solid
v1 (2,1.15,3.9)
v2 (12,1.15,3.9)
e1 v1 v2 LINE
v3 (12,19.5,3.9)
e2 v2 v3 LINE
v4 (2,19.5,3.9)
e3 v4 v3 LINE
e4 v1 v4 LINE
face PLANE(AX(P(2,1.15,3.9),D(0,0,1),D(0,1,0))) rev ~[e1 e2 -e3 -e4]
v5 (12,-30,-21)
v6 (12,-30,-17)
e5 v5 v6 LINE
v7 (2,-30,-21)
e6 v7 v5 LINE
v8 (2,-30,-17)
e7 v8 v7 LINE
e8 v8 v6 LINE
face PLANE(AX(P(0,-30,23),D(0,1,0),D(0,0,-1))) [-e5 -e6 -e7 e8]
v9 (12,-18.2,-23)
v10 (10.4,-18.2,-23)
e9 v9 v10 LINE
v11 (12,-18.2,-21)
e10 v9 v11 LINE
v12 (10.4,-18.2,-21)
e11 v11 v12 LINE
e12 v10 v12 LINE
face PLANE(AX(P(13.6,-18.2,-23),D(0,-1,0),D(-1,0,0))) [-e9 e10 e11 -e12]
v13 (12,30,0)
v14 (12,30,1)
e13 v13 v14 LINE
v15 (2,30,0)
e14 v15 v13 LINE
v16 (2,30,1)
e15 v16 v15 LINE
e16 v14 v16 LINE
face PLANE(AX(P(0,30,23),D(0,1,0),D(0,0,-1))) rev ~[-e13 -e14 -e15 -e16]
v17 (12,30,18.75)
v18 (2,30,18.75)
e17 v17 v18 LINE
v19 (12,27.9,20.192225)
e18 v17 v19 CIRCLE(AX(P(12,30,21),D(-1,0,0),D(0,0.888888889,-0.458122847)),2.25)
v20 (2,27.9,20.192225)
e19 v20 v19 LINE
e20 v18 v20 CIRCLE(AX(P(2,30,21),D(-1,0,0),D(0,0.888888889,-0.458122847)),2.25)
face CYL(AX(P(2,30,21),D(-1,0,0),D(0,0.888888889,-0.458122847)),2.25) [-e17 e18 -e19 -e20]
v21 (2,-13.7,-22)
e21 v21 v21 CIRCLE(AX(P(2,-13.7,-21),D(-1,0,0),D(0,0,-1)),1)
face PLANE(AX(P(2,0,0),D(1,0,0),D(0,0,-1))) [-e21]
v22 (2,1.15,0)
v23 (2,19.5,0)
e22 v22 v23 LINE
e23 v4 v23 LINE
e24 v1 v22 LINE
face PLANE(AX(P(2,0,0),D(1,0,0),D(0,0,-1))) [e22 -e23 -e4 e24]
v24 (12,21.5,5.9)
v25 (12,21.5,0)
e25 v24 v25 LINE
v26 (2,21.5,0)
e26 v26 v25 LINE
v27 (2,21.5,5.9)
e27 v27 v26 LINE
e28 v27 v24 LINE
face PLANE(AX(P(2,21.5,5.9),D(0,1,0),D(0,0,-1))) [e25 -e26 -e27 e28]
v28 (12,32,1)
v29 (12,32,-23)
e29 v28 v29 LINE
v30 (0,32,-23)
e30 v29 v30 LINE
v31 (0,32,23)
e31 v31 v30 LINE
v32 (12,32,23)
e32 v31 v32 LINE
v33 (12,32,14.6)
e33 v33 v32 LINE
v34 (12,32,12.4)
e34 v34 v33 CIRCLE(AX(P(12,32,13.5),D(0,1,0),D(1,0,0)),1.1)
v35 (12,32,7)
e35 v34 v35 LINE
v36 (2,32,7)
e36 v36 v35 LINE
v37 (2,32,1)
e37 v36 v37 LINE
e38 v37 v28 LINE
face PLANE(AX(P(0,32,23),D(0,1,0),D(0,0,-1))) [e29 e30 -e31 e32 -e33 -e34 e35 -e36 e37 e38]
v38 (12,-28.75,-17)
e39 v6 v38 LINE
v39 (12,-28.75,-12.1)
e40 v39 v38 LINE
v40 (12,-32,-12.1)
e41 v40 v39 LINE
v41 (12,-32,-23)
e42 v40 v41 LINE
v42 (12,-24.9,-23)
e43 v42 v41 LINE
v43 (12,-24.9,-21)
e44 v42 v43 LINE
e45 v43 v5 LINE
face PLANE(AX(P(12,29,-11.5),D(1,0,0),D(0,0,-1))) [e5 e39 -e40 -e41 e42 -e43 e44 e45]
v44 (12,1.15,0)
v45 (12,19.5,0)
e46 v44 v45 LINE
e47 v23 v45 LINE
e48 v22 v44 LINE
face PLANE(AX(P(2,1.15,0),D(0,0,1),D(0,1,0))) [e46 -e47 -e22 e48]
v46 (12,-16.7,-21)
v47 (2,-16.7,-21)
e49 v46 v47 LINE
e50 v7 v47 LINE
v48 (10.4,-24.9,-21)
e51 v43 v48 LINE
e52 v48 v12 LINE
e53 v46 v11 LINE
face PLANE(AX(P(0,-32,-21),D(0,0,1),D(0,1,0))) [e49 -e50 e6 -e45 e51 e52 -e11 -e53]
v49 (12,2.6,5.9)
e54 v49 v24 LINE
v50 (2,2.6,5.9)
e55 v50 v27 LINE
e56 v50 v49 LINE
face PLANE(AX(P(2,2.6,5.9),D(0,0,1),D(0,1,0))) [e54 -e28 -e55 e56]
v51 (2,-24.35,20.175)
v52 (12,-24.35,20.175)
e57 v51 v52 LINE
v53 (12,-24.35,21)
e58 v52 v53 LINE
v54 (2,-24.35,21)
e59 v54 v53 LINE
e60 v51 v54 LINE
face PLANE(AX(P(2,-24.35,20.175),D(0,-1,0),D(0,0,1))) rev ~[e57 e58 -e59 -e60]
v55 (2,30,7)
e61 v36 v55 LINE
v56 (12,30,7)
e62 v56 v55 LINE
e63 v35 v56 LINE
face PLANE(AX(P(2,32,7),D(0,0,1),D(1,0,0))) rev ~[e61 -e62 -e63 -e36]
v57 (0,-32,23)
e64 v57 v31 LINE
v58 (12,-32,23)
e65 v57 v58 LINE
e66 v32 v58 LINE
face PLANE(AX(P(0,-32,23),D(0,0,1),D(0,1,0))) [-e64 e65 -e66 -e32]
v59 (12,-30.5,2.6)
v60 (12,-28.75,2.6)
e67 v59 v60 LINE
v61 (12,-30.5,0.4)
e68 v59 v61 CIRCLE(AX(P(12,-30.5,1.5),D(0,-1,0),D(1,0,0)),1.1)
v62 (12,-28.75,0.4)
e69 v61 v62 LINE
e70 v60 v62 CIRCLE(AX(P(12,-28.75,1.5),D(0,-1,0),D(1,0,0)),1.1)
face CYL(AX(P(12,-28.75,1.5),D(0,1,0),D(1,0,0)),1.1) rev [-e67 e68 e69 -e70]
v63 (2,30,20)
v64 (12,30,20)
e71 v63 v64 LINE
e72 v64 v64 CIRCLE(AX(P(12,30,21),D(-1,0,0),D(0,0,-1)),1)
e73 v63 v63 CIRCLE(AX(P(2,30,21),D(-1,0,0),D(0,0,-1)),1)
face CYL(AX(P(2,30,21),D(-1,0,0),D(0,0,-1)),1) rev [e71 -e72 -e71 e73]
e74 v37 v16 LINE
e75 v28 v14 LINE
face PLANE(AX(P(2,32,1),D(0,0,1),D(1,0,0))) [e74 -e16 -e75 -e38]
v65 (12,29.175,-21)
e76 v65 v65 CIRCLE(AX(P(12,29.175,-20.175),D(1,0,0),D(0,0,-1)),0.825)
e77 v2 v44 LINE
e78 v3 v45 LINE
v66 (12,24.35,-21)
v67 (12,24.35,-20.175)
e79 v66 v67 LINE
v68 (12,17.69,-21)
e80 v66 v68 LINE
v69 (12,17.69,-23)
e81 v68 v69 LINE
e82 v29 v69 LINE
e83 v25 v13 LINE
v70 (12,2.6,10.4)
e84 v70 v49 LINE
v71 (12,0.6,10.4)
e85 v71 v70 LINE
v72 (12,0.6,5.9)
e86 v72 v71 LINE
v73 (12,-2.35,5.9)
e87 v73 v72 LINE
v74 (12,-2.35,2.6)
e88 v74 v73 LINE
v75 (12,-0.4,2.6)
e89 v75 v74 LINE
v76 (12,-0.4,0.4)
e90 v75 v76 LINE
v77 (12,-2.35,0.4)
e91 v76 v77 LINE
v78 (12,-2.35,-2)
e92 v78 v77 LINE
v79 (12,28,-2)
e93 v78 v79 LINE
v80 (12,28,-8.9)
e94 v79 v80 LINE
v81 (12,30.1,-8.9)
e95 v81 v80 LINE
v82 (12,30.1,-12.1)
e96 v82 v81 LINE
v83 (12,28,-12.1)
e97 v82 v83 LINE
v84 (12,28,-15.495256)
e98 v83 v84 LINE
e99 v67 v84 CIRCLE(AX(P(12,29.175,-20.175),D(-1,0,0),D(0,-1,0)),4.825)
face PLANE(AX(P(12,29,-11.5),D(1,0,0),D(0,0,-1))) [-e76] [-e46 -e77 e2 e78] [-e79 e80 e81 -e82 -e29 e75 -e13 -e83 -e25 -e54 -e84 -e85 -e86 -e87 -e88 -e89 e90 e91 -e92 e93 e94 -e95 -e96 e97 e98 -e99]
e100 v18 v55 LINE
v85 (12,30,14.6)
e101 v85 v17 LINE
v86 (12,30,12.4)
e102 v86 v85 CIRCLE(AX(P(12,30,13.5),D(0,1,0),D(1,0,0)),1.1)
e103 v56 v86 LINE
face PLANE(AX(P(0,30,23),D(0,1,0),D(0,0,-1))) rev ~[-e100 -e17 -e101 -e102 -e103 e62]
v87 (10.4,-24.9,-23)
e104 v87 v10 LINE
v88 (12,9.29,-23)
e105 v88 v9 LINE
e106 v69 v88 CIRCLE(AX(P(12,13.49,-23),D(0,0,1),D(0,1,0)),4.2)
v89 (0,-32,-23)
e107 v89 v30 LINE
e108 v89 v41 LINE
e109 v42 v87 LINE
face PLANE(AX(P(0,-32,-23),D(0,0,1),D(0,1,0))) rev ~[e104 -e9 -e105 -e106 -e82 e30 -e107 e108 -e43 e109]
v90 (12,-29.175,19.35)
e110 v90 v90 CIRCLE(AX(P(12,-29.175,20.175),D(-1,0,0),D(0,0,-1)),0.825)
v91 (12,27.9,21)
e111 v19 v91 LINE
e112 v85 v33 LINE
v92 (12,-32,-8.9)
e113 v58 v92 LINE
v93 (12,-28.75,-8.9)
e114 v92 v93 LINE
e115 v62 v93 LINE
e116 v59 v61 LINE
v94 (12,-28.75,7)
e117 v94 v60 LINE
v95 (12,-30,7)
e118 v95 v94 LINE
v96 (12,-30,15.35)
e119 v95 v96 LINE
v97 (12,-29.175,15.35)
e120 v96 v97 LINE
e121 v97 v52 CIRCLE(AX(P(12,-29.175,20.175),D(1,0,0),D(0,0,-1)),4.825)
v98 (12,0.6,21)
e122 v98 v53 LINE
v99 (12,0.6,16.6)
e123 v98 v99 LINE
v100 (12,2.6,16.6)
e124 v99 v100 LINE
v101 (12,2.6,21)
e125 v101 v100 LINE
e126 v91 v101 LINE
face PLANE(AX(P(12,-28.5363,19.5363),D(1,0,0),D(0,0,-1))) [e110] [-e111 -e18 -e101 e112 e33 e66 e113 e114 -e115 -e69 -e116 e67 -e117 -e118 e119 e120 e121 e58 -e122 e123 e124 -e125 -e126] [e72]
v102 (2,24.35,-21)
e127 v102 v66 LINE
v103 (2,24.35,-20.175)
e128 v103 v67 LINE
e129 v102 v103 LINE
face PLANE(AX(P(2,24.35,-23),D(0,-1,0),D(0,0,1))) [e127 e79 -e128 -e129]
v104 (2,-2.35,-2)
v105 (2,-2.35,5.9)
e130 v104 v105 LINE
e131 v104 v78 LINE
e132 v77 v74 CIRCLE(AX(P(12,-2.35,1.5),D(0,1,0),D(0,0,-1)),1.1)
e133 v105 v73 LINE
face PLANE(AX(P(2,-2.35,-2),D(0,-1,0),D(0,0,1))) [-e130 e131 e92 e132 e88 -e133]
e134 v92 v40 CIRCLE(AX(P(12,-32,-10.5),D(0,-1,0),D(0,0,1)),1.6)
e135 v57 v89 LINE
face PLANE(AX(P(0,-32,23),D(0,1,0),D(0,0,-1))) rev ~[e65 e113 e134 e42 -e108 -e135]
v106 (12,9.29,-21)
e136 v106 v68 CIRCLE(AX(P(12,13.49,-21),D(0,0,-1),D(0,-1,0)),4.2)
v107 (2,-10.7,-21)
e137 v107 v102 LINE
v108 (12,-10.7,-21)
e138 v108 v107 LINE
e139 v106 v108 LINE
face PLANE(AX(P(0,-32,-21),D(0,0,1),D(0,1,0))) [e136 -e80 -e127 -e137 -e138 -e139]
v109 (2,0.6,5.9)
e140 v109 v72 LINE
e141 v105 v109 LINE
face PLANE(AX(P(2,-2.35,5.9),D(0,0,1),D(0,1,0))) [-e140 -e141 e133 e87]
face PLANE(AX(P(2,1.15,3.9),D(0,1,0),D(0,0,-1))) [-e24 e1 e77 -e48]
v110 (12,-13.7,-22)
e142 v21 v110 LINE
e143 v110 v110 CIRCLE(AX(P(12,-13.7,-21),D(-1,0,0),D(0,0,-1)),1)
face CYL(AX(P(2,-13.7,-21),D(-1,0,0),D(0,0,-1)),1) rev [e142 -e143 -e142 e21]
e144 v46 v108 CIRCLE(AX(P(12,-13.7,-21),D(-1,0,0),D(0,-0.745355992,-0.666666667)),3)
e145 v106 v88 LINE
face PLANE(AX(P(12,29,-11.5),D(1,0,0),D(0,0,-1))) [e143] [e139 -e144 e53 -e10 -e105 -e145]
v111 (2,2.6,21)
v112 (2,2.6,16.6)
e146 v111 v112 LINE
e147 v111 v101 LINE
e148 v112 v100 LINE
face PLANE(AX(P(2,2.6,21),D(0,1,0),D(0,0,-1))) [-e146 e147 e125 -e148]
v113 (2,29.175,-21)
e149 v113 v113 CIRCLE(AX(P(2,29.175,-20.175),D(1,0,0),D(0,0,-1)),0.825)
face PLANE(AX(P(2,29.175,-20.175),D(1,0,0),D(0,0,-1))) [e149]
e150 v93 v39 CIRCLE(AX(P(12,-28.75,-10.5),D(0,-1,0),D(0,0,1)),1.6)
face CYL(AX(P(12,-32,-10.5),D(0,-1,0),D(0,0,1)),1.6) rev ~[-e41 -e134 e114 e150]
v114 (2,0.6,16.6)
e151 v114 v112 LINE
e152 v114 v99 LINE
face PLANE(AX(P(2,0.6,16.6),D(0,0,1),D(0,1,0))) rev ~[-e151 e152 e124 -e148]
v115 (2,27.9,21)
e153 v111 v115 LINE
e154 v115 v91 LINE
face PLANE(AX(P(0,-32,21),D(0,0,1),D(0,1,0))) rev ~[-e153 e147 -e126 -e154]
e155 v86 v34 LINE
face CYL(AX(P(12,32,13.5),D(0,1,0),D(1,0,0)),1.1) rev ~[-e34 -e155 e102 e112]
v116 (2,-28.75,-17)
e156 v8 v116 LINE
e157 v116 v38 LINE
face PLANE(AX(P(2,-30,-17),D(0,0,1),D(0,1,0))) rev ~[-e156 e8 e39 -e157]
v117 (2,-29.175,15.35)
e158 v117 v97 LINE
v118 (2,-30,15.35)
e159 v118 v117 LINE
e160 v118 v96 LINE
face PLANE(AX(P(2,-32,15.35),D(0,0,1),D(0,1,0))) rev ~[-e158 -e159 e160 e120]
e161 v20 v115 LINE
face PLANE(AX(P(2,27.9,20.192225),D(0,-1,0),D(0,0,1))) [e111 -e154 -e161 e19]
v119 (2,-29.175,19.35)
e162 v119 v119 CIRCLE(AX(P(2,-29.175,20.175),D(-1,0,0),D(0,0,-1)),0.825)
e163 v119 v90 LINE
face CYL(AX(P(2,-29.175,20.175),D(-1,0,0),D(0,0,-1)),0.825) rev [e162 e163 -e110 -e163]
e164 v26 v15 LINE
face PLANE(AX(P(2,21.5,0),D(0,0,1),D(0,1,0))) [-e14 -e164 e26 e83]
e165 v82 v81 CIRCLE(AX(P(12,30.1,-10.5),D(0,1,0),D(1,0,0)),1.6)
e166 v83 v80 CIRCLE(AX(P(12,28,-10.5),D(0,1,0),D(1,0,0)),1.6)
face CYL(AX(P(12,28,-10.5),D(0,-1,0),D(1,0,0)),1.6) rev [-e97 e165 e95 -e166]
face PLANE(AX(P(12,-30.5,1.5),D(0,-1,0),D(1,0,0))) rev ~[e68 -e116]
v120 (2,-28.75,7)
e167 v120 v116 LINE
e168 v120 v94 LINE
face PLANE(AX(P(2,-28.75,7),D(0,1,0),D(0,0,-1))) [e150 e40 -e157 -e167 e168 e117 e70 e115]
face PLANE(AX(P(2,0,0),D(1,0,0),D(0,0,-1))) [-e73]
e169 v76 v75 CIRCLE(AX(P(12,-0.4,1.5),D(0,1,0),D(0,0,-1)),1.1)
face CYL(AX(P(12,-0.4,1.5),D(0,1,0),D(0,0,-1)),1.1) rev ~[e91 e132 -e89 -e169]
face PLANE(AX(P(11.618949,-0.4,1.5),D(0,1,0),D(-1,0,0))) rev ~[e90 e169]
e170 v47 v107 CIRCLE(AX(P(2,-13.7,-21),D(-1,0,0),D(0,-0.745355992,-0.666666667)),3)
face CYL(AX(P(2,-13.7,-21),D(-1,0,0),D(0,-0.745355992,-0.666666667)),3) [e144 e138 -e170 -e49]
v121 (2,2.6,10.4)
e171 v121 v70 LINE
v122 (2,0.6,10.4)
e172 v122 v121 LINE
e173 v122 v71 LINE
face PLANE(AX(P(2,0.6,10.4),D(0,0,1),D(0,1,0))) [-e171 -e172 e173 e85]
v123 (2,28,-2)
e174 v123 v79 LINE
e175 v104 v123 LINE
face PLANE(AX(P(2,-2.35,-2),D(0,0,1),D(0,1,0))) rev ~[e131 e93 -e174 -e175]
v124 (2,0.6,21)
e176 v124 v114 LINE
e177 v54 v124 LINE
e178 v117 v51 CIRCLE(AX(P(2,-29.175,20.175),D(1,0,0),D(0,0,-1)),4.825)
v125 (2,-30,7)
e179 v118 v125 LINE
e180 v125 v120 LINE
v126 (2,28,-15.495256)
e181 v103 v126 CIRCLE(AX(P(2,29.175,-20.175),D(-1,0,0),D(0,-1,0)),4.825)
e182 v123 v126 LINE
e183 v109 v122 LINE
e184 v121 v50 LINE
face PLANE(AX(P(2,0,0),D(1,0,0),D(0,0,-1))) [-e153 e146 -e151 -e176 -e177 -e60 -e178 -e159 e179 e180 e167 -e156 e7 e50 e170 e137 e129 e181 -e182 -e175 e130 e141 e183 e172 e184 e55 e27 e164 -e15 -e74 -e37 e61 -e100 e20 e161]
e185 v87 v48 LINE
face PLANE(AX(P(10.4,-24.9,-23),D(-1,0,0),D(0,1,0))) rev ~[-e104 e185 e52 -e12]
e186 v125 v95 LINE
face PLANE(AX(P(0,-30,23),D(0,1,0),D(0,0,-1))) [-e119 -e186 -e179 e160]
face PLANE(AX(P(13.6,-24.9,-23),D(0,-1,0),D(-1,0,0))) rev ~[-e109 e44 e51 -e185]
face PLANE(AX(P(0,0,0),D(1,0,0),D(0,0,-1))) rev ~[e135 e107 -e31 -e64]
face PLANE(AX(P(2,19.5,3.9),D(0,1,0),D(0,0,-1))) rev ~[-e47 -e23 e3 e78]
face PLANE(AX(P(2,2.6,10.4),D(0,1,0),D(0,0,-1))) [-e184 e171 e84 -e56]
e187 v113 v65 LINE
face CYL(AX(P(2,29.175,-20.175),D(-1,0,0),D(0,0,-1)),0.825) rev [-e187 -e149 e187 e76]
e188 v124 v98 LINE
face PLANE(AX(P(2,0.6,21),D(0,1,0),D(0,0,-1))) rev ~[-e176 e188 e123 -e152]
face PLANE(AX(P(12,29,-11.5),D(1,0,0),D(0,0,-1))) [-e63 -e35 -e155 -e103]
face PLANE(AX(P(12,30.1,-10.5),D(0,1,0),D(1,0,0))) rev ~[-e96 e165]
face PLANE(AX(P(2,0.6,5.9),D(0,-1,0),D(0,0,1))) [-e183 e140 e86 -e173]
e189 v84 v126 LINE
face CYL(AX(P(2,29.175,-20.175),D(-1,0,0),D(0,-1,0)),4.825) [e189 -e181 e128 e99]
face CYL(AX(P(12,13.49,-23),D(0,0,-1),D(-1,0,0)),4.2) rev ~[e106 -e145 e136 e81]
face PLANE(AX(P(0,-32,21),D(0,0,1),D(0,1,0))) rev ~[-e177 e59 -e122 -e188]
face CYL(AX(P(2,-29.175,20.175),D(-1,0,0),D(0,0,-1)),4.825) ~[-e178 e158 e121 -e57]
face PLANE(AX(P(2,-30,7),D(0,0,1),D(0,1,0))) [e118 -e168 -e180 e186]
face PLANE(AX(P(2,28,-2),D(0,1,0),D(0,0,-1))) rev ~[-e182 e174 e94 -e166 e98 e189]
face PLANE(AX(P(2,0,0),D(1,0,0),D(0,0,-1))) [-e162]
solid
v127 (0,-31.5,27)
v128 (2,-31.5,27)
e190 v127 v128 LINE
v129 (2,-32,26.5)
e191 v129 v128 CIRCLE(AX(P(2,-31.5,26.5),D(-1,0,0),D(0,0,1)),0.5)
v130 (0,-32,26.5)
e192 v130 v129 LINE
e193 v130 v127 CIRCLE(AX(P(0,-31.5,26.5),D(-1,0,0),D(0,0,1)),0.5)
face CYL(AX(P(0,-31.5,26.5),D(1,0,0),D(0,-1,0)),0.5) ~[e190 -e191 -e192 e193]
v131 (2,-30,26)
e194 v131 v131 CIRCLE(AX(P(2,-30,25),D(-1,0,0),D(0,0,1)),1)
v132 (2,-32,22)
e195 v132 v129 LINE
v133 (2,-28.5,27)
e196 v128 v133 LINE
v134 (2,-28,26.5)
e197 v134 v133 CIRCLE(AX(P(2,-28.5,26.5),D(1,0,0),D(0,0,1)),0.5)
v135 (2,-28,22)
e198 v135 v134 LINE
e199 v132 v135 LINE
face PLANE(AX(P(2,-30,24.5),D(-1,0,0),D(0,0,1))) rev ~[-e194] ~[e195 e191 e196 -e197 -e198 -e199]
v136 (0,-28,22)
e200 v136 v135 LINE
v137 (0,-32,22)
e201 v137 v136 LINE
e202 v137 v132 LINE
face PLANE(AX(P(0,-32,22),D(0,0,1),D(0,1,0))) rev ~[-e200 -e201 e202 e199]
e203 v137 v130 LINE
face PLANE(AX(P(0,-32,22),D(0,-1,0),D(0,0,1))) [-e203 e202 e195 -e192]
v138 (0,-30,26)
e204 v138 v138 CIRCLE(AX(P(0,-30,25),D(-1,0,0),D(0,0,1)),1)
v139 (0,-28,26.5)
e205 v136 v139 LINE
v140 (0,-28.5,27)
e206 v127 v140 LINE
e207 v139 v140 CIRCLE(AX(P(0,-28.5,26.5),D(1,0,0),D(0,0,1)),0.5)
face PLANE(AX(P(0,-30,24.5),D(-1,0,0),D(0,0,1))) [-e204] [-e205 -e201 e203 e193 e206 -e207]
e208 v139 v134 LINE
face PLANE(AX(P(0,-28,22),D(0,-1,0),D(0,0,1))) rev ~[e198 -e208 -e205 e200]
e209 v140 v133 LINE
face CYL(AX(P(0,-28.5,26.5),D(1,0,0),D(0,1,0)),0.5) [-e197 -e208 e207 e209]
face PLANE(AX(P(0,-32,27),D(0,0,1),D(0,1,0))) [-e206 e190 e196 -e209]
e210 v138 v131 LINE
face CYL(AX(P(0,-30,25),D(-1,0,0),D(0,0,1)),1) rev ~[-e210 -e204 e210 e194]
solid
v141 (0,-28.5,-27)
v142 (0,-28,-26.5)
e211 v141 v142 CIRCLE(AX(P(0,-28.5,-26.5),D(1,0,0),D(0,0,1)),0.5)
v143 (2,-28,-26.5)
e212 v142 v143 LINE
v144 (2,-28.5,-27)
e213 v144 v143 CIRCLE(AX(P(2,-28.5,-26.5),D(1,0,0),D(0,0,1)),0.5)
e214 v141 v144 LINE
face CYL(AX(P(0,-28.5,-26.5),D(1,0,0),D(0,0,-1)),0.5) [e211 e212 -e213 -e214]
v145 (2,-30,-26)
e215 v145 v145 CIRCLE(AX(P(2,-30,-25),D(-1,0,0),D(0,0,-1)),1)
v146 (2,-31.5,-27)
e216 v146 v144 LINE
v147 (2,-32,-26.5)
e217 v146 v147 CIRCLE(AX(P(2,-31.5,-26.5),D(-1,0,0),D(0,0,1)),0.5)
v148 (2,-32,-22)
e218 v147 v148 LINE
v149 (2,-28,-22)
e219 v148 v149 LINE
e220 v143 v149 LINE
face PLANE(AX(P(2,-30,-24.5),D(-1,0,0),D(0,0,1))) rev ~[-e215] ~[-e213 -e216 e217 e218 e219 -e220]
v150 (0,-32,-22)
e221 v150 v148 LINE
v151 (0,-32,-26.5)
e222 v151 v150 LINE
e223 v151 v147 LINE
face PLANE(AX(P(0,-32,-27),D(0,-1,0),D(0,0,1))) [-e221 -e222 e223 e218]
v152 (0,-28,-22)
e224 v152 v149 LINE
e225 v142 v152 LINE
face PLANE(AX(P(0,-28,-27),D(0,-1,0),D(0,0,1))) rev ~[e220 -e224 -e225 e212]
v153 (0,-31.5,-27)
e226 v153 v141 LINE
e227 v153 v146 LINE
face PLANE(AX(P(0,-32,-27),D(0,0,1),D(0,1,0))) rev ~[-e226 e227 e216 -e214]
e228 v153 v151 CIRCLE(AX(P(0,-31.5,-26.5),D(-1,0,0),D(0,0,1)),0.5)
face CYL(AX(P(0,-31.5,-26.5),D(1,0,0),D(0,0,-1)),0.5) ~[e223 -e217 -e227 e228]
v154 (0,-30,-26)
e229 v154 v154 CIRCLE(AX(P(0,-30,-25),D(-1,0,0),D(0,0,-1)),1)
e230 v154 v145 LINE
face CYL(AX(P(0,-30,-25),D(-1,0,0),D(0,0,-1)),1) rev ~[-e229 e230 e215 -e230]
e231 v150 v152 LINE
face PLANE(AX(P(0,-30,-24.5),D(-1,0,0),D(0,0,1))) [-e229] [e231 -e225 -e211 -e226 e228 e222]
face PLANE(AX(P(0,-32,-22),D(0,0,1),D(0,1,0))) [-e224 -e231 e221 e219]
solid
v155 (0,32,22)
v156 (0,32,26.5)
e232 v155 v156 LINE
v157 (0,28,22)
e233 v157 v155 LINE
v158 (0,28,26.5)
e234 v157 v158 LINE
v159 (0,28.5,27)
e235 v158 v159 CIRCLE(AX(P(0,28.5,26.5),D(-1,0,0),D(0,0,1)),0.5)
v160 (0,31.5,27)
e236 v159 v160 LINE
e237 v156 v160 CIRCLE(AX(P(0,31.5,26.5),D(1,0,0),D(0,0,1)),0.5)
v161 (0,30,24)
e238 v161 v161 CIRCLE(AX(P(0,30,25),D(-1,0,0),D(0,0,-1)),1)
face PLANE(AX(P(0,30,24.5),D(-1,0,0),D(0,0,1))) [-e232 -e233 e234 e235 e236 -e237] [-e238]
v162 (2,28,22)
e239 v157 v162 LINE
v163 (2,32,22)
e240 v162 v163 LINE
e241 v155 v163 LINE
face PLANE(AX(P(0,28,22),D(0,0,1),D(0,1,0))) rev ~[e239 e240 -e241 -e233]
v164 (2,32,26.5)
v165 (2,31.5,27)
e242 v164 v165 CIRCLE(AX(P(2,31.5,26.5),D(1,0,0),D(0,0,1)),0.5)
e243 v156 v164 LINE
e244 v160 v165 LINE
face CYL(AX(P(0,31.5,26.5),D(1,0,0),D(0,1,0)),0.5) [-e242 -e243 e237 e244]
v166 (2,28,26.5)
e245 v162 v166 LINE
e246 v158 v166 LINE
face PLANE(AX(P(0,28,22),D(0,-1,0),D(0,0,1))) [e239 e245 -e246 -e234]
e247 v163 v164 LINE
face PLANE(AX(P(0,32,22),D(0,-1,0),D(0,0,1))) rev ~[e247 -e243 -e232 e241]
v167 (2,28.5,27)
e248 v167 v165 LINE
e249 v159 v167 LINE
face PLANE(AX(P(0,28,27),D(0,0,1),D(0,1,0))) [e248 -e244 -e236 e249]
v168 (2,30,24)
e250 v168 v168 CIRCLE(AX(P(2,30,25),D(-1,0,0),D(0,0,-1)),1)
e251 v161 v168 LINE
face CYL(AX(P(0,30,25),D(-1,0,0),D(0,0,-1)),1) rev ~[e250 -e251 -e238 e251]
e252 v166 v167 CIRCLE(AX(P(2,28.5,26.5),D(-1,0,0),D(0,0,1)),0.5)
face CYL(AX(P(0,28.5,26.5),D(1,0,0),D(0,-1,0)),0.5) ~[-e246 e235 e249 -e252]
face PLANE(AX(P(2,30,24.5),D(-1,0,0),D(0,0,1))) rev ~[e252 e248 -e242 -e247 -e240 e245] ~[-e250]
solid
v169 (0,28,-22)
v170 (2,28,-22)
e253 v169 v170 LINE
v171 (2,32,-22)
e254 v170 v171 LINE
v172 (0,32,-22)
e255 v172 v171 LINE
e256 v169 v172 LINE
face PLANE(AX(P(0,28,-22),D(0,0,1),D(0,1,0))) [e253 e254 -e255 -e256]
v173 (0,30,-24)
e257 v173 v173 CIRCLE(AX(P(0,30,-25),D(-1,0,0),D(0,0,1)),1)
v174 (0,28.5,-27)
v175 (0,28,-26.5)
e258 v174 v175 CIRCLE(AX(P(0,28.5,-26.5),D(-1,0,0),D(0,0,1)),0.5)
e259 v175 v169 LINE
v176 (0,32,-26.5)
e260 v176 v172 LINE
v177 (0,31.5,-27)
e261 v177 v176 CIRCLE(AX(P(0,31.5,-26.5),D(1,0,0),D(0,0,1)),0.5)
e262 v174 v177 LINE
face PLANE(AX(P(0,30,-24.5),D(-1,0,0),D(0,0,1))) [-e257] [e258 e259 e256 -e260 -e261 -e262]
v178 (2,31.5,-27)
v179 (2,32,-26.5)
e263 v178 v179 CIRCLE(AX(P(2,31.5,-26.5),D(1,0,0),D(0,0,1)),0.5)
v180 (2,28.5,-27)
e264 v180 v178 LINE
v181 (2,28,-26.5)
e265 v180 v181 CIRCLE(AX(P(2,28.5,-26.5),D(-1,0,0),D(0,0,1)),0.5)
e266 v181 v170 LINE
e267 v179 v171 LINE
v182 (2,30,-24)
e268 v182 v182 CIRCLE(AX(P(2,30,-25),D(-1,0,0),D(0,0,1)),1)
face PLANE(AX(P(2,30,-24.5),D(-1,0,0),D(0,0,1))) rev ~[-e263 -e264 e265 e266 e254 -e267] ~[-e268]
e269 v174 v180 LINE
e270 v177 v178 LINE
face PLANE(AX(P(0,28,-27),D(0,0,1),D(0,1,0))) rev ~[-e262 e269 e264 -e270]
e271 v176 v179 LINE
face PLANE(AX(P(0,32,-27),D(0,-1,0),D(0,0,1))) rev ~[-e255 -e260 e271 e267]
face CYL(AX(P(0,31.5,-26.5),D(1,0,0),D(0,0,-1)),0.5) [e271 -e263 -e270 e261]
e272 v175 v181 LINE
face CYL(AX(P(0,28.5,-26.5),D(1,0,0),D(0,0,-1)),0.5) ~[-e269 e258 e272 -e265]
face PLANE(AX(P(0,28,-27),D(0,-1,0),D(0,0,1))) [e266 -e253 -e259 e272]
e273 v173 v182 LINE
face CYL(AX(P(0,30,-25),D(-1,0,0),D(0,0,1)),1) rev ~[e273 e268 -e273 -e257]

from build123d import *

# Parameters (mm, degrees)
SKETCH_1_W            = 46
SKETCH_1_H            = 64
EXTRUDE_1_DEPTH       = 12
SHELL_1_T             = -2
SKETCH_3_W            = 3.9
SKETCH_3_H            = 18.35
SKETCH_3_W_2          = 4.4
SKETCH_3_H_2          = 2
EXTRUDE_6_DEPTH       = 10
SKETCH_9_W            = 24
SKETCH_9_H            = 1.25
EXTRUDE_9_DEPTH       = 10
SKETCH_16_W           = 19
SKETCH_16_H           = 2
EXTRUDE_9_2_DEPTH     = 10
CUT_EXTRUDE_START     = -4
SKETCH_17_R           = 1.6
CUT_EXTRUDE_3_3_DEPTH = 2.1
CUT_EXTRUDE_1_REACH   = 71.058
SKETCH_4_R            = 1.1
SKETCH_4_W            = 10
SKETCH_4_H            = 6
CUT_EXTRUDE_3_2_REACH = 71.058
CUT_EXTRUDE_START_2   = -3.25
SKETCH_11_R           = 1.1
CUT_EXTRUDE_2_DEPTH   = 1.75
SKETCH_6_R            = 0.825
SKETCH_6_R_2          = 1
EXTRUDE_7_DEPTH       = 10
CUT_EXTRUDE_START_3   = -10
SKETCH_7_R            = 1
SKETCH_7_R_2          = 0.825
CUT_EXTRUDE_3_DEPTH   = 10
F_2MM_3_START         = -1.95
F_2MM_3_DEPTH         = 1.95
CUT_EXTRUDE_4_REACH   = 59.306
SKETCH_14_W           = 3.2
SKETCH_14_H           = 6.7
CUT_EXTRUDE_3_4_REACH = 59.306
SKETCH_19_R           = 4.2
SKETCH_20_W           = 5
SKETCH_20_H           = 4
SKETCH_20_R           = 1
EXTRUDE_10_DEPTH      = 2
EXTRUDE_10_2_DEPTH    = 2
EXTRUDE_10_3_DEPTH    = 2
EXTRUDE_10_4_DEPTH    = 2
FILLET_1_R            = 0.5
FILLET_2_R            = 0.5
FILLET_3_R            = 0.5
FILLET_4_R            = 0.5


with BuildPart() as part:
    # 草图1 → 凸台-拉伸1 (new body)
    with BuildSketch(Plane(origin=(0, 0, 0), x_dir=(0, 0, -1), z_dir=(1, 0, 0))):
        Rectangle(SKETCH_1_W, SKETCH_1_H)
    extrude(amount=EXTRUDE_1_DEPTH)

    # 抽壳1
    shell_1_openings = [part.faces().sort_by_distance(p)[0] for p in [
        (12, 0, 0),
    ]]
    offset(amount=SHELL_1_T, openings=shell_1_openings, kind=Kind.INTERSECTION)

    # 草图3 → 机位凸台-拉伸6 (add)
    # profile 1 of 2: a face of its own
    with BuildSketch(Plane(origin=(2, 0, 0), x_dir=(0, 0, -1), z_dir=(1, 0, 0))):
        Polygon((-5.9, 21.5), (0, 21.5), (0, 30), (2, 30), (2, 17.175), (2, -2.35), (-5.9, -2.35), (-5.9, 0.6), (-10.4, 0.6), (-10.4, 2.6), (-5.9, 2.6), align=None)
        with Locations((-1.95, 10.325)):
            Rectangle(SKETCH_3_W, SKETCH_3_H, mode=Mode.SUBTRACT)
    # profile 2 of 2: a face of its own
    with BuildSketch(Plane(origin=(2, 0, 0), x_dir=(0, 0, -1), z_dir=(1, 0, 0))):
        with Locations((-18.8, 1.6)):
            Rectangle(SKETCH_3_W_2, SKETCH_3_H_2)
    extrude(amount=EXTRUDE_6_DEPTH)

    # 草图9 → Extrude 9 (add)
    with BuildSketch(Plane(origin=(2, 0, 0), x_dir=(0, 0, -1), z_dir=(1, 0, 0))):
        with Locations((5, -29.375)):
            Rectangle(SKETCH_9_W, SKETCH_9_H)
    extrude(amount=EXTRUDE_9_DEPTH)

    # 草图16 → Extrude 9 2 (add)
    with BuildSketch(Plane(origin=(2, 0, 0), x_dir=(0, 0, -1), z_dir=(1, 0, 0))):
        with Locations((11.5, 29)):
            Rectangle(SKETCH_16_W, SKETCH_16_H)
    extrude(amount=EXTRUDE_9_2_DEPTH)

    # 草图17 → 后部孔位3切除-拉伸3 (cut)
    with BuildSketch(Plane(origin=(0, 32, 0), x_dir=(1, 0, 0), z_dir=(0, 1, 0)).offset(CUT_EXTRUDE_START)):
        with Locations((12, 10.5)):
            Circle(SKETCH_17_R)
    extrude(amount=CUT_EXTRUDE_3_3_DEPTH, mode=Mode.SUBTRACT)

    # 草图4 → 后部孔位切除-拉伸1 (cut, up to next)
    with BuildSketch(Plane(origin=(0, 32, 0), x_dir=(1, 0, 0), z_dir=(0, 1, 0)), mode=Mode.PRIVATE) as cut_extrude_1_sk1:
        with Locations((12, -13.5)):
            Circle(SKETCH_4_R)
    cut_extrude_1_tool1 = extrude(cut_extrude_1_sk1.sketch, amount=-CUT_EXTRUDE_1_REACH, mode=Mode.PRIVATE) & part.part
    # 草图4 → 后部孔位切除-拉伸1 (cut, up to next)
    with BuildSketch(Plane(origin=(0, 32, 0), x_dir=(1, 0, 0), z_dir=(0, 1, 0)), mode=Mode.PRIVATE) as cut_extrude_1_sk2:
        with Locations((7, -4)):
            Rectangle(SKETCH_4_W, SKETCH_4_H)
    cut_extrude_1_tool2 = extrude(cut_extrude_1_sk2.sketch, amount=-CUT_EXTRUDE_1_REACH, mode=Mode.PRIVATE) & part.part
    add(cut_extrude_1_tool1.solids().sort_by_distance((12, 32, 13.5))[0], mode=Mode.SUBTRACT)
    add(cut_extrude_1_tool2.solids().sort_by_distance((7, 32, 4))[0], mode=Mode.SUBTRACT)

    # 草图5 → 前部切除3-拉伸2 (cut, up to next)
    with BuildSketch(Plane.XZ.offset(32), mode=Mode.PRIVATE) as cut_extrude_3_2_sk1:
        with BuildLine():
            Line((12, -12.1), (12, -8.9))
            ThreePointArc((12, -8.9), (10.4, -10.5), (12, -12.1))
        make_face()
    cut_extrude_3_2_tool1 = extrude(cut_extrude_3_2_sk1.sketch, amount=-CUT_EXTRUDE_3_2_REACH, mode=Mode.PRIVATE) & part.part
    add(cut_extrude_3_2_tool1.solids().sort_by_distance((11.320939, -32, -10.5))[0], mode=Mode.SUBTRACT)

    # 草图11 → 切除-拉伸2 (cut)
    with BuildSketch(Plane.XZ.offset(32).offset(CUT_EXTRUDE_START_2)):
        with Locations((12, 1.5)):
            Circle(SKETCH_11_R)
    extrude(amount=CUT_EXTRUDE_2_DEPTH, mode=Mode.SUBTRACT)

    # 草图6 → 螺丝孔凸台-拉伸7 (add)
    # profile 1 of 4: a face of its own
    with BuildSketch(Plane(origin=(2, 0, 0), x_dir=(0, 0, -1), z_dir=(1, 0, 0))):
        with BuildLine():
            Line((-20.175, -24.35), (-23, -24.35))
            Line((-23, -24.35), (-23, -32))
            Line((-23, -32), (-15.35, -32))
            Line((-15.35, -32), (-15.35, -29.175))
            ThreePointArc((-15.35, -29.175), (-16.763209781, -25.763209781), (-20.175, -24.35))
        make_face()
        with Locations((-20.175, -29.175)):
            Circle(SKETCH_6_R, mode=Mode.SUBTRACT)
    # profile 2 of 4: a face of its own
    with BuildSketch(Plane(origin=(2, 0, 0), x_dir=(0, 0, -1), z_dir=(1, 0, 0))):
        with BuildLine():
            Line((-23, 28.969223594), (-23, 31.030776406))
            ThreePointArc((-23, 31.030776406), (-22.590990258, 31.590990258), (-22.030776406, 32))
            Line((-22.030776406, 32), (-19.969223594, 32))
            ThreePointArc((-19.969223594, 32), (-18.75332077, 29.877801645), (-20.192225279, 27.9))
            Line((-20.192225279, 27.9), (-23, 27.9))
            Line((-23, 27.9), (-23, 28.969223594))
        make_face()
        with Locations((-21, 30)):
            Circle(SKETCH_6_R_2, mode=Mode.SUBTRACT)
    # profile 3 of 4: a face of its own
    with BuildSketch(Plane(origin=(2, 0, 0), x_dir=(0, 0, -1), z_dir=(1, 0, 0))):
        with BuildLine():
            Line((15.35, 32), (23, 32))
            Line((23, 32), (23, 24.35))
            Line((23, 24.35), (20.175, 24.35))
            ThreePointArc((20.175, 24.35), (16.763209781, 25.763209781), (15.35, 29.175))
            Line((15.35, 29.175), (15.35, 32))
        make_face()
        with Locations((20.175, 29.175)):
            Circle(SKETCH_6_R, mode=Mode.SUBTRACT)
    # profile 4 of 4: a face of its own
    with BuildSketch(Plane(origin=(2, 0, 0), x_dir=(0, 0, -1), z_dir=(1, 0, 0))):
        with BuildLine():
            Line((23, -11.463932023), (23, -15.936067977))
            ThreePointArc((23, -15.936067977), (18, -13.7), (23, -11.463932023))
        make_face()
        with Locations((21, -13.7)):
            Circle(SKETCH_6_R_2, mode=Mode.SUBTRACT)
    extrude(amount=EXTRUDE_7_DEPTH)

    # 草图7 → Cut-Extrude 3 (cut)
    with BuildSketch(Plane(origin=(12, 0, 0), x_dir=(0, 0, -1), z_dir=(1, 0, 0)).offset(CUT_EXTRUDE_START_3)):
        with Locations((21, -13.7)):
            Circle(SKETCH_7_R)
        with Locations((-21, 30)):
            Circle(SKETCH_7_R)
        with Locations((20.175, 29.175)):
            Circle(SKETCH_7_R_2)
    extrude(amount=CUT_EXTRUDE_3_DEPTH, mode=Mode.SUBTRACT)

    # 草图12 → 2mm切孔切除-拉伸3 (cut)
    with BuildSketch(Plane.XZ.offset(2.35).offset(F_2MM_3_START)):
        with BuildLine():
            Line((12, 2.6), (12, 0.4))
            ThreePointArc((12, 0.4), (10.9, 1.5), (12, 2.6))
        make_face()
    extrude(amount=F_2MM_3_DEPTH, mode=Mode.SUBTRACT)

    # 草图14 → 拨杆切除-拉伸4 (cut, up to next)
    with BuildSketch(Plane(origin=(0, 0, -23), x_dir=(-1, 0, 0), z_dir=(0, 0, -1)), mode=Mode.PRIVATE) as cut_extrude_4_sk1:
        with Locations((-12, -21.55)):
            Rectangle(SKETCH_14_W, SKETCH_14_H)
    cut_extrude_4_tool1 = extrude(cut_extrude_4_sk1.sketch, amount=-CUT_EXTRUDE_4_REACH, mode=Mode.PRIVATE) & part.part
    add(cut_extrude_4_tool1.solids().sort_by_distance((12, -21.55, -23))[0], mode=Mode.SUBTRACT)

    # 草图19 → Cut-Extrude 3 4 (cut, up to next)
    with BuildSketch(Plane(origin=(0, 0, -23), x_dir=(-1, 0, 0), z_dir=(0, 0, -1)), mode=Mode.PRIVATE) as cut_extrude_3_4_sk1:
        with Locations((-12, 13.49)):
            Circle(SKETCH_19_R)
    cut_extrude_3_4_tool1 = extrude(cut_extrude_3_4_sk1.sketch, amount=-CUT_EXTRUDE_3_4_REACH, mode=Mode.PRIVATE) & part.part
    add(cut_extrude_3_4_tool1.solids().sort_by_distance((12, 13.49, -23))[0], mode=Mode.SUBTRACT)


with BuildPart() as body_2:
    # 草图20 → 固定位凸台-拉伸10 (new body)
    with BuildSketch(Plane.ZY):
        with Locations((-24.5, 30)):
            Rectangle(SKETCH_20_W, SKETCH_20_H)
        with Locations((-25, 30)):
            Circle(SKETCH_20_R, mode=Mode.SUBTRACT)
    extrude(amount=-EXTRUDE_10_DEPTH)

    # 圆角4
    fillet_4_edges = [body_2.edges().sort_by_distance(p)[0] for p in [
        (1, 28, -27),
        (1, 32, -27),
    ]]
    fillet(fillet_4_edges, radius=FILLET_4_R)


with BuildPart() as body_3:
    # 草图20 → Extrude 10 2 (new body)
    with BuildSketch(Plane.ZY):
        with Locations((24.5, 30)):
            Rectangle(SKETCH_20_W, SKETCH_20_H)
        with Locations(Location((25, 30, 0), (0, 0, 180))):
            Circle(SKETCH_20_R, mode=Mode.SUBTRACT)
    extrude(amount=-EXTRUDE_10_2_DEPTH)

    # 圆角3
    fillet_3_edges = [body_3.edges().sort_by_distance(p)[0] for p in [
        (1, 32, 27),
        (1, 28, 27),
    ]]
    fillet(fillet_3_edges, radius=FILLET_3_R)


with BuildPart() as body_4:
    # 草图20 → Extrude 10 3 (new body)
    with BuildSketch(Plane.ZY):
        with Locations((24.5, -30)):
            Rectangle(SKETCH_20_W, SKETCH_20_H)
        with Locations((25, -30)):
            Circle(SKETCH_20_R, mode=Mode.SUBTRACT)
    extrude(amount=-EXTRUDE_10_3_DEPTH)

    # 圆角2
    fillet_2_edges = [body_4.edges().sort_by_distance(p)[0] for p in [
        (1, -28, 27),
        (1, -32, 27),
    ]]
    fillet(fillet_2_edges, radius=FILLET_2_R)


with BuildPart() as body_5:
    # 草图20 → Extrude 10 4 (new body)
    with BuildSketch(Plane.ZY):
        with Locations((-24.5, -30)):
            Rectangle(SKETCH_20_W, SKETCH_20_H)
        with Locations(Location((-25, -30, 0), (0, 0, 180))):
            Circle(SKETCH_20_R, mode=Mode.SUBTRACT)
    extrude(amount=-EXTRUDE_10_4_DEPTH)

    # 圆角1
    fillet_1_edges = [body_5.edges().sort_by_distance(p)[0] for p in [
        (1, -32, -27),
        (1, -28, -27),
    ]]
    fillet(fillet_1_edges, radius=FILLET_1_R)


solid = Compound([part.part, body_2.part, body_3.part, body_4.part, body_5.part])
